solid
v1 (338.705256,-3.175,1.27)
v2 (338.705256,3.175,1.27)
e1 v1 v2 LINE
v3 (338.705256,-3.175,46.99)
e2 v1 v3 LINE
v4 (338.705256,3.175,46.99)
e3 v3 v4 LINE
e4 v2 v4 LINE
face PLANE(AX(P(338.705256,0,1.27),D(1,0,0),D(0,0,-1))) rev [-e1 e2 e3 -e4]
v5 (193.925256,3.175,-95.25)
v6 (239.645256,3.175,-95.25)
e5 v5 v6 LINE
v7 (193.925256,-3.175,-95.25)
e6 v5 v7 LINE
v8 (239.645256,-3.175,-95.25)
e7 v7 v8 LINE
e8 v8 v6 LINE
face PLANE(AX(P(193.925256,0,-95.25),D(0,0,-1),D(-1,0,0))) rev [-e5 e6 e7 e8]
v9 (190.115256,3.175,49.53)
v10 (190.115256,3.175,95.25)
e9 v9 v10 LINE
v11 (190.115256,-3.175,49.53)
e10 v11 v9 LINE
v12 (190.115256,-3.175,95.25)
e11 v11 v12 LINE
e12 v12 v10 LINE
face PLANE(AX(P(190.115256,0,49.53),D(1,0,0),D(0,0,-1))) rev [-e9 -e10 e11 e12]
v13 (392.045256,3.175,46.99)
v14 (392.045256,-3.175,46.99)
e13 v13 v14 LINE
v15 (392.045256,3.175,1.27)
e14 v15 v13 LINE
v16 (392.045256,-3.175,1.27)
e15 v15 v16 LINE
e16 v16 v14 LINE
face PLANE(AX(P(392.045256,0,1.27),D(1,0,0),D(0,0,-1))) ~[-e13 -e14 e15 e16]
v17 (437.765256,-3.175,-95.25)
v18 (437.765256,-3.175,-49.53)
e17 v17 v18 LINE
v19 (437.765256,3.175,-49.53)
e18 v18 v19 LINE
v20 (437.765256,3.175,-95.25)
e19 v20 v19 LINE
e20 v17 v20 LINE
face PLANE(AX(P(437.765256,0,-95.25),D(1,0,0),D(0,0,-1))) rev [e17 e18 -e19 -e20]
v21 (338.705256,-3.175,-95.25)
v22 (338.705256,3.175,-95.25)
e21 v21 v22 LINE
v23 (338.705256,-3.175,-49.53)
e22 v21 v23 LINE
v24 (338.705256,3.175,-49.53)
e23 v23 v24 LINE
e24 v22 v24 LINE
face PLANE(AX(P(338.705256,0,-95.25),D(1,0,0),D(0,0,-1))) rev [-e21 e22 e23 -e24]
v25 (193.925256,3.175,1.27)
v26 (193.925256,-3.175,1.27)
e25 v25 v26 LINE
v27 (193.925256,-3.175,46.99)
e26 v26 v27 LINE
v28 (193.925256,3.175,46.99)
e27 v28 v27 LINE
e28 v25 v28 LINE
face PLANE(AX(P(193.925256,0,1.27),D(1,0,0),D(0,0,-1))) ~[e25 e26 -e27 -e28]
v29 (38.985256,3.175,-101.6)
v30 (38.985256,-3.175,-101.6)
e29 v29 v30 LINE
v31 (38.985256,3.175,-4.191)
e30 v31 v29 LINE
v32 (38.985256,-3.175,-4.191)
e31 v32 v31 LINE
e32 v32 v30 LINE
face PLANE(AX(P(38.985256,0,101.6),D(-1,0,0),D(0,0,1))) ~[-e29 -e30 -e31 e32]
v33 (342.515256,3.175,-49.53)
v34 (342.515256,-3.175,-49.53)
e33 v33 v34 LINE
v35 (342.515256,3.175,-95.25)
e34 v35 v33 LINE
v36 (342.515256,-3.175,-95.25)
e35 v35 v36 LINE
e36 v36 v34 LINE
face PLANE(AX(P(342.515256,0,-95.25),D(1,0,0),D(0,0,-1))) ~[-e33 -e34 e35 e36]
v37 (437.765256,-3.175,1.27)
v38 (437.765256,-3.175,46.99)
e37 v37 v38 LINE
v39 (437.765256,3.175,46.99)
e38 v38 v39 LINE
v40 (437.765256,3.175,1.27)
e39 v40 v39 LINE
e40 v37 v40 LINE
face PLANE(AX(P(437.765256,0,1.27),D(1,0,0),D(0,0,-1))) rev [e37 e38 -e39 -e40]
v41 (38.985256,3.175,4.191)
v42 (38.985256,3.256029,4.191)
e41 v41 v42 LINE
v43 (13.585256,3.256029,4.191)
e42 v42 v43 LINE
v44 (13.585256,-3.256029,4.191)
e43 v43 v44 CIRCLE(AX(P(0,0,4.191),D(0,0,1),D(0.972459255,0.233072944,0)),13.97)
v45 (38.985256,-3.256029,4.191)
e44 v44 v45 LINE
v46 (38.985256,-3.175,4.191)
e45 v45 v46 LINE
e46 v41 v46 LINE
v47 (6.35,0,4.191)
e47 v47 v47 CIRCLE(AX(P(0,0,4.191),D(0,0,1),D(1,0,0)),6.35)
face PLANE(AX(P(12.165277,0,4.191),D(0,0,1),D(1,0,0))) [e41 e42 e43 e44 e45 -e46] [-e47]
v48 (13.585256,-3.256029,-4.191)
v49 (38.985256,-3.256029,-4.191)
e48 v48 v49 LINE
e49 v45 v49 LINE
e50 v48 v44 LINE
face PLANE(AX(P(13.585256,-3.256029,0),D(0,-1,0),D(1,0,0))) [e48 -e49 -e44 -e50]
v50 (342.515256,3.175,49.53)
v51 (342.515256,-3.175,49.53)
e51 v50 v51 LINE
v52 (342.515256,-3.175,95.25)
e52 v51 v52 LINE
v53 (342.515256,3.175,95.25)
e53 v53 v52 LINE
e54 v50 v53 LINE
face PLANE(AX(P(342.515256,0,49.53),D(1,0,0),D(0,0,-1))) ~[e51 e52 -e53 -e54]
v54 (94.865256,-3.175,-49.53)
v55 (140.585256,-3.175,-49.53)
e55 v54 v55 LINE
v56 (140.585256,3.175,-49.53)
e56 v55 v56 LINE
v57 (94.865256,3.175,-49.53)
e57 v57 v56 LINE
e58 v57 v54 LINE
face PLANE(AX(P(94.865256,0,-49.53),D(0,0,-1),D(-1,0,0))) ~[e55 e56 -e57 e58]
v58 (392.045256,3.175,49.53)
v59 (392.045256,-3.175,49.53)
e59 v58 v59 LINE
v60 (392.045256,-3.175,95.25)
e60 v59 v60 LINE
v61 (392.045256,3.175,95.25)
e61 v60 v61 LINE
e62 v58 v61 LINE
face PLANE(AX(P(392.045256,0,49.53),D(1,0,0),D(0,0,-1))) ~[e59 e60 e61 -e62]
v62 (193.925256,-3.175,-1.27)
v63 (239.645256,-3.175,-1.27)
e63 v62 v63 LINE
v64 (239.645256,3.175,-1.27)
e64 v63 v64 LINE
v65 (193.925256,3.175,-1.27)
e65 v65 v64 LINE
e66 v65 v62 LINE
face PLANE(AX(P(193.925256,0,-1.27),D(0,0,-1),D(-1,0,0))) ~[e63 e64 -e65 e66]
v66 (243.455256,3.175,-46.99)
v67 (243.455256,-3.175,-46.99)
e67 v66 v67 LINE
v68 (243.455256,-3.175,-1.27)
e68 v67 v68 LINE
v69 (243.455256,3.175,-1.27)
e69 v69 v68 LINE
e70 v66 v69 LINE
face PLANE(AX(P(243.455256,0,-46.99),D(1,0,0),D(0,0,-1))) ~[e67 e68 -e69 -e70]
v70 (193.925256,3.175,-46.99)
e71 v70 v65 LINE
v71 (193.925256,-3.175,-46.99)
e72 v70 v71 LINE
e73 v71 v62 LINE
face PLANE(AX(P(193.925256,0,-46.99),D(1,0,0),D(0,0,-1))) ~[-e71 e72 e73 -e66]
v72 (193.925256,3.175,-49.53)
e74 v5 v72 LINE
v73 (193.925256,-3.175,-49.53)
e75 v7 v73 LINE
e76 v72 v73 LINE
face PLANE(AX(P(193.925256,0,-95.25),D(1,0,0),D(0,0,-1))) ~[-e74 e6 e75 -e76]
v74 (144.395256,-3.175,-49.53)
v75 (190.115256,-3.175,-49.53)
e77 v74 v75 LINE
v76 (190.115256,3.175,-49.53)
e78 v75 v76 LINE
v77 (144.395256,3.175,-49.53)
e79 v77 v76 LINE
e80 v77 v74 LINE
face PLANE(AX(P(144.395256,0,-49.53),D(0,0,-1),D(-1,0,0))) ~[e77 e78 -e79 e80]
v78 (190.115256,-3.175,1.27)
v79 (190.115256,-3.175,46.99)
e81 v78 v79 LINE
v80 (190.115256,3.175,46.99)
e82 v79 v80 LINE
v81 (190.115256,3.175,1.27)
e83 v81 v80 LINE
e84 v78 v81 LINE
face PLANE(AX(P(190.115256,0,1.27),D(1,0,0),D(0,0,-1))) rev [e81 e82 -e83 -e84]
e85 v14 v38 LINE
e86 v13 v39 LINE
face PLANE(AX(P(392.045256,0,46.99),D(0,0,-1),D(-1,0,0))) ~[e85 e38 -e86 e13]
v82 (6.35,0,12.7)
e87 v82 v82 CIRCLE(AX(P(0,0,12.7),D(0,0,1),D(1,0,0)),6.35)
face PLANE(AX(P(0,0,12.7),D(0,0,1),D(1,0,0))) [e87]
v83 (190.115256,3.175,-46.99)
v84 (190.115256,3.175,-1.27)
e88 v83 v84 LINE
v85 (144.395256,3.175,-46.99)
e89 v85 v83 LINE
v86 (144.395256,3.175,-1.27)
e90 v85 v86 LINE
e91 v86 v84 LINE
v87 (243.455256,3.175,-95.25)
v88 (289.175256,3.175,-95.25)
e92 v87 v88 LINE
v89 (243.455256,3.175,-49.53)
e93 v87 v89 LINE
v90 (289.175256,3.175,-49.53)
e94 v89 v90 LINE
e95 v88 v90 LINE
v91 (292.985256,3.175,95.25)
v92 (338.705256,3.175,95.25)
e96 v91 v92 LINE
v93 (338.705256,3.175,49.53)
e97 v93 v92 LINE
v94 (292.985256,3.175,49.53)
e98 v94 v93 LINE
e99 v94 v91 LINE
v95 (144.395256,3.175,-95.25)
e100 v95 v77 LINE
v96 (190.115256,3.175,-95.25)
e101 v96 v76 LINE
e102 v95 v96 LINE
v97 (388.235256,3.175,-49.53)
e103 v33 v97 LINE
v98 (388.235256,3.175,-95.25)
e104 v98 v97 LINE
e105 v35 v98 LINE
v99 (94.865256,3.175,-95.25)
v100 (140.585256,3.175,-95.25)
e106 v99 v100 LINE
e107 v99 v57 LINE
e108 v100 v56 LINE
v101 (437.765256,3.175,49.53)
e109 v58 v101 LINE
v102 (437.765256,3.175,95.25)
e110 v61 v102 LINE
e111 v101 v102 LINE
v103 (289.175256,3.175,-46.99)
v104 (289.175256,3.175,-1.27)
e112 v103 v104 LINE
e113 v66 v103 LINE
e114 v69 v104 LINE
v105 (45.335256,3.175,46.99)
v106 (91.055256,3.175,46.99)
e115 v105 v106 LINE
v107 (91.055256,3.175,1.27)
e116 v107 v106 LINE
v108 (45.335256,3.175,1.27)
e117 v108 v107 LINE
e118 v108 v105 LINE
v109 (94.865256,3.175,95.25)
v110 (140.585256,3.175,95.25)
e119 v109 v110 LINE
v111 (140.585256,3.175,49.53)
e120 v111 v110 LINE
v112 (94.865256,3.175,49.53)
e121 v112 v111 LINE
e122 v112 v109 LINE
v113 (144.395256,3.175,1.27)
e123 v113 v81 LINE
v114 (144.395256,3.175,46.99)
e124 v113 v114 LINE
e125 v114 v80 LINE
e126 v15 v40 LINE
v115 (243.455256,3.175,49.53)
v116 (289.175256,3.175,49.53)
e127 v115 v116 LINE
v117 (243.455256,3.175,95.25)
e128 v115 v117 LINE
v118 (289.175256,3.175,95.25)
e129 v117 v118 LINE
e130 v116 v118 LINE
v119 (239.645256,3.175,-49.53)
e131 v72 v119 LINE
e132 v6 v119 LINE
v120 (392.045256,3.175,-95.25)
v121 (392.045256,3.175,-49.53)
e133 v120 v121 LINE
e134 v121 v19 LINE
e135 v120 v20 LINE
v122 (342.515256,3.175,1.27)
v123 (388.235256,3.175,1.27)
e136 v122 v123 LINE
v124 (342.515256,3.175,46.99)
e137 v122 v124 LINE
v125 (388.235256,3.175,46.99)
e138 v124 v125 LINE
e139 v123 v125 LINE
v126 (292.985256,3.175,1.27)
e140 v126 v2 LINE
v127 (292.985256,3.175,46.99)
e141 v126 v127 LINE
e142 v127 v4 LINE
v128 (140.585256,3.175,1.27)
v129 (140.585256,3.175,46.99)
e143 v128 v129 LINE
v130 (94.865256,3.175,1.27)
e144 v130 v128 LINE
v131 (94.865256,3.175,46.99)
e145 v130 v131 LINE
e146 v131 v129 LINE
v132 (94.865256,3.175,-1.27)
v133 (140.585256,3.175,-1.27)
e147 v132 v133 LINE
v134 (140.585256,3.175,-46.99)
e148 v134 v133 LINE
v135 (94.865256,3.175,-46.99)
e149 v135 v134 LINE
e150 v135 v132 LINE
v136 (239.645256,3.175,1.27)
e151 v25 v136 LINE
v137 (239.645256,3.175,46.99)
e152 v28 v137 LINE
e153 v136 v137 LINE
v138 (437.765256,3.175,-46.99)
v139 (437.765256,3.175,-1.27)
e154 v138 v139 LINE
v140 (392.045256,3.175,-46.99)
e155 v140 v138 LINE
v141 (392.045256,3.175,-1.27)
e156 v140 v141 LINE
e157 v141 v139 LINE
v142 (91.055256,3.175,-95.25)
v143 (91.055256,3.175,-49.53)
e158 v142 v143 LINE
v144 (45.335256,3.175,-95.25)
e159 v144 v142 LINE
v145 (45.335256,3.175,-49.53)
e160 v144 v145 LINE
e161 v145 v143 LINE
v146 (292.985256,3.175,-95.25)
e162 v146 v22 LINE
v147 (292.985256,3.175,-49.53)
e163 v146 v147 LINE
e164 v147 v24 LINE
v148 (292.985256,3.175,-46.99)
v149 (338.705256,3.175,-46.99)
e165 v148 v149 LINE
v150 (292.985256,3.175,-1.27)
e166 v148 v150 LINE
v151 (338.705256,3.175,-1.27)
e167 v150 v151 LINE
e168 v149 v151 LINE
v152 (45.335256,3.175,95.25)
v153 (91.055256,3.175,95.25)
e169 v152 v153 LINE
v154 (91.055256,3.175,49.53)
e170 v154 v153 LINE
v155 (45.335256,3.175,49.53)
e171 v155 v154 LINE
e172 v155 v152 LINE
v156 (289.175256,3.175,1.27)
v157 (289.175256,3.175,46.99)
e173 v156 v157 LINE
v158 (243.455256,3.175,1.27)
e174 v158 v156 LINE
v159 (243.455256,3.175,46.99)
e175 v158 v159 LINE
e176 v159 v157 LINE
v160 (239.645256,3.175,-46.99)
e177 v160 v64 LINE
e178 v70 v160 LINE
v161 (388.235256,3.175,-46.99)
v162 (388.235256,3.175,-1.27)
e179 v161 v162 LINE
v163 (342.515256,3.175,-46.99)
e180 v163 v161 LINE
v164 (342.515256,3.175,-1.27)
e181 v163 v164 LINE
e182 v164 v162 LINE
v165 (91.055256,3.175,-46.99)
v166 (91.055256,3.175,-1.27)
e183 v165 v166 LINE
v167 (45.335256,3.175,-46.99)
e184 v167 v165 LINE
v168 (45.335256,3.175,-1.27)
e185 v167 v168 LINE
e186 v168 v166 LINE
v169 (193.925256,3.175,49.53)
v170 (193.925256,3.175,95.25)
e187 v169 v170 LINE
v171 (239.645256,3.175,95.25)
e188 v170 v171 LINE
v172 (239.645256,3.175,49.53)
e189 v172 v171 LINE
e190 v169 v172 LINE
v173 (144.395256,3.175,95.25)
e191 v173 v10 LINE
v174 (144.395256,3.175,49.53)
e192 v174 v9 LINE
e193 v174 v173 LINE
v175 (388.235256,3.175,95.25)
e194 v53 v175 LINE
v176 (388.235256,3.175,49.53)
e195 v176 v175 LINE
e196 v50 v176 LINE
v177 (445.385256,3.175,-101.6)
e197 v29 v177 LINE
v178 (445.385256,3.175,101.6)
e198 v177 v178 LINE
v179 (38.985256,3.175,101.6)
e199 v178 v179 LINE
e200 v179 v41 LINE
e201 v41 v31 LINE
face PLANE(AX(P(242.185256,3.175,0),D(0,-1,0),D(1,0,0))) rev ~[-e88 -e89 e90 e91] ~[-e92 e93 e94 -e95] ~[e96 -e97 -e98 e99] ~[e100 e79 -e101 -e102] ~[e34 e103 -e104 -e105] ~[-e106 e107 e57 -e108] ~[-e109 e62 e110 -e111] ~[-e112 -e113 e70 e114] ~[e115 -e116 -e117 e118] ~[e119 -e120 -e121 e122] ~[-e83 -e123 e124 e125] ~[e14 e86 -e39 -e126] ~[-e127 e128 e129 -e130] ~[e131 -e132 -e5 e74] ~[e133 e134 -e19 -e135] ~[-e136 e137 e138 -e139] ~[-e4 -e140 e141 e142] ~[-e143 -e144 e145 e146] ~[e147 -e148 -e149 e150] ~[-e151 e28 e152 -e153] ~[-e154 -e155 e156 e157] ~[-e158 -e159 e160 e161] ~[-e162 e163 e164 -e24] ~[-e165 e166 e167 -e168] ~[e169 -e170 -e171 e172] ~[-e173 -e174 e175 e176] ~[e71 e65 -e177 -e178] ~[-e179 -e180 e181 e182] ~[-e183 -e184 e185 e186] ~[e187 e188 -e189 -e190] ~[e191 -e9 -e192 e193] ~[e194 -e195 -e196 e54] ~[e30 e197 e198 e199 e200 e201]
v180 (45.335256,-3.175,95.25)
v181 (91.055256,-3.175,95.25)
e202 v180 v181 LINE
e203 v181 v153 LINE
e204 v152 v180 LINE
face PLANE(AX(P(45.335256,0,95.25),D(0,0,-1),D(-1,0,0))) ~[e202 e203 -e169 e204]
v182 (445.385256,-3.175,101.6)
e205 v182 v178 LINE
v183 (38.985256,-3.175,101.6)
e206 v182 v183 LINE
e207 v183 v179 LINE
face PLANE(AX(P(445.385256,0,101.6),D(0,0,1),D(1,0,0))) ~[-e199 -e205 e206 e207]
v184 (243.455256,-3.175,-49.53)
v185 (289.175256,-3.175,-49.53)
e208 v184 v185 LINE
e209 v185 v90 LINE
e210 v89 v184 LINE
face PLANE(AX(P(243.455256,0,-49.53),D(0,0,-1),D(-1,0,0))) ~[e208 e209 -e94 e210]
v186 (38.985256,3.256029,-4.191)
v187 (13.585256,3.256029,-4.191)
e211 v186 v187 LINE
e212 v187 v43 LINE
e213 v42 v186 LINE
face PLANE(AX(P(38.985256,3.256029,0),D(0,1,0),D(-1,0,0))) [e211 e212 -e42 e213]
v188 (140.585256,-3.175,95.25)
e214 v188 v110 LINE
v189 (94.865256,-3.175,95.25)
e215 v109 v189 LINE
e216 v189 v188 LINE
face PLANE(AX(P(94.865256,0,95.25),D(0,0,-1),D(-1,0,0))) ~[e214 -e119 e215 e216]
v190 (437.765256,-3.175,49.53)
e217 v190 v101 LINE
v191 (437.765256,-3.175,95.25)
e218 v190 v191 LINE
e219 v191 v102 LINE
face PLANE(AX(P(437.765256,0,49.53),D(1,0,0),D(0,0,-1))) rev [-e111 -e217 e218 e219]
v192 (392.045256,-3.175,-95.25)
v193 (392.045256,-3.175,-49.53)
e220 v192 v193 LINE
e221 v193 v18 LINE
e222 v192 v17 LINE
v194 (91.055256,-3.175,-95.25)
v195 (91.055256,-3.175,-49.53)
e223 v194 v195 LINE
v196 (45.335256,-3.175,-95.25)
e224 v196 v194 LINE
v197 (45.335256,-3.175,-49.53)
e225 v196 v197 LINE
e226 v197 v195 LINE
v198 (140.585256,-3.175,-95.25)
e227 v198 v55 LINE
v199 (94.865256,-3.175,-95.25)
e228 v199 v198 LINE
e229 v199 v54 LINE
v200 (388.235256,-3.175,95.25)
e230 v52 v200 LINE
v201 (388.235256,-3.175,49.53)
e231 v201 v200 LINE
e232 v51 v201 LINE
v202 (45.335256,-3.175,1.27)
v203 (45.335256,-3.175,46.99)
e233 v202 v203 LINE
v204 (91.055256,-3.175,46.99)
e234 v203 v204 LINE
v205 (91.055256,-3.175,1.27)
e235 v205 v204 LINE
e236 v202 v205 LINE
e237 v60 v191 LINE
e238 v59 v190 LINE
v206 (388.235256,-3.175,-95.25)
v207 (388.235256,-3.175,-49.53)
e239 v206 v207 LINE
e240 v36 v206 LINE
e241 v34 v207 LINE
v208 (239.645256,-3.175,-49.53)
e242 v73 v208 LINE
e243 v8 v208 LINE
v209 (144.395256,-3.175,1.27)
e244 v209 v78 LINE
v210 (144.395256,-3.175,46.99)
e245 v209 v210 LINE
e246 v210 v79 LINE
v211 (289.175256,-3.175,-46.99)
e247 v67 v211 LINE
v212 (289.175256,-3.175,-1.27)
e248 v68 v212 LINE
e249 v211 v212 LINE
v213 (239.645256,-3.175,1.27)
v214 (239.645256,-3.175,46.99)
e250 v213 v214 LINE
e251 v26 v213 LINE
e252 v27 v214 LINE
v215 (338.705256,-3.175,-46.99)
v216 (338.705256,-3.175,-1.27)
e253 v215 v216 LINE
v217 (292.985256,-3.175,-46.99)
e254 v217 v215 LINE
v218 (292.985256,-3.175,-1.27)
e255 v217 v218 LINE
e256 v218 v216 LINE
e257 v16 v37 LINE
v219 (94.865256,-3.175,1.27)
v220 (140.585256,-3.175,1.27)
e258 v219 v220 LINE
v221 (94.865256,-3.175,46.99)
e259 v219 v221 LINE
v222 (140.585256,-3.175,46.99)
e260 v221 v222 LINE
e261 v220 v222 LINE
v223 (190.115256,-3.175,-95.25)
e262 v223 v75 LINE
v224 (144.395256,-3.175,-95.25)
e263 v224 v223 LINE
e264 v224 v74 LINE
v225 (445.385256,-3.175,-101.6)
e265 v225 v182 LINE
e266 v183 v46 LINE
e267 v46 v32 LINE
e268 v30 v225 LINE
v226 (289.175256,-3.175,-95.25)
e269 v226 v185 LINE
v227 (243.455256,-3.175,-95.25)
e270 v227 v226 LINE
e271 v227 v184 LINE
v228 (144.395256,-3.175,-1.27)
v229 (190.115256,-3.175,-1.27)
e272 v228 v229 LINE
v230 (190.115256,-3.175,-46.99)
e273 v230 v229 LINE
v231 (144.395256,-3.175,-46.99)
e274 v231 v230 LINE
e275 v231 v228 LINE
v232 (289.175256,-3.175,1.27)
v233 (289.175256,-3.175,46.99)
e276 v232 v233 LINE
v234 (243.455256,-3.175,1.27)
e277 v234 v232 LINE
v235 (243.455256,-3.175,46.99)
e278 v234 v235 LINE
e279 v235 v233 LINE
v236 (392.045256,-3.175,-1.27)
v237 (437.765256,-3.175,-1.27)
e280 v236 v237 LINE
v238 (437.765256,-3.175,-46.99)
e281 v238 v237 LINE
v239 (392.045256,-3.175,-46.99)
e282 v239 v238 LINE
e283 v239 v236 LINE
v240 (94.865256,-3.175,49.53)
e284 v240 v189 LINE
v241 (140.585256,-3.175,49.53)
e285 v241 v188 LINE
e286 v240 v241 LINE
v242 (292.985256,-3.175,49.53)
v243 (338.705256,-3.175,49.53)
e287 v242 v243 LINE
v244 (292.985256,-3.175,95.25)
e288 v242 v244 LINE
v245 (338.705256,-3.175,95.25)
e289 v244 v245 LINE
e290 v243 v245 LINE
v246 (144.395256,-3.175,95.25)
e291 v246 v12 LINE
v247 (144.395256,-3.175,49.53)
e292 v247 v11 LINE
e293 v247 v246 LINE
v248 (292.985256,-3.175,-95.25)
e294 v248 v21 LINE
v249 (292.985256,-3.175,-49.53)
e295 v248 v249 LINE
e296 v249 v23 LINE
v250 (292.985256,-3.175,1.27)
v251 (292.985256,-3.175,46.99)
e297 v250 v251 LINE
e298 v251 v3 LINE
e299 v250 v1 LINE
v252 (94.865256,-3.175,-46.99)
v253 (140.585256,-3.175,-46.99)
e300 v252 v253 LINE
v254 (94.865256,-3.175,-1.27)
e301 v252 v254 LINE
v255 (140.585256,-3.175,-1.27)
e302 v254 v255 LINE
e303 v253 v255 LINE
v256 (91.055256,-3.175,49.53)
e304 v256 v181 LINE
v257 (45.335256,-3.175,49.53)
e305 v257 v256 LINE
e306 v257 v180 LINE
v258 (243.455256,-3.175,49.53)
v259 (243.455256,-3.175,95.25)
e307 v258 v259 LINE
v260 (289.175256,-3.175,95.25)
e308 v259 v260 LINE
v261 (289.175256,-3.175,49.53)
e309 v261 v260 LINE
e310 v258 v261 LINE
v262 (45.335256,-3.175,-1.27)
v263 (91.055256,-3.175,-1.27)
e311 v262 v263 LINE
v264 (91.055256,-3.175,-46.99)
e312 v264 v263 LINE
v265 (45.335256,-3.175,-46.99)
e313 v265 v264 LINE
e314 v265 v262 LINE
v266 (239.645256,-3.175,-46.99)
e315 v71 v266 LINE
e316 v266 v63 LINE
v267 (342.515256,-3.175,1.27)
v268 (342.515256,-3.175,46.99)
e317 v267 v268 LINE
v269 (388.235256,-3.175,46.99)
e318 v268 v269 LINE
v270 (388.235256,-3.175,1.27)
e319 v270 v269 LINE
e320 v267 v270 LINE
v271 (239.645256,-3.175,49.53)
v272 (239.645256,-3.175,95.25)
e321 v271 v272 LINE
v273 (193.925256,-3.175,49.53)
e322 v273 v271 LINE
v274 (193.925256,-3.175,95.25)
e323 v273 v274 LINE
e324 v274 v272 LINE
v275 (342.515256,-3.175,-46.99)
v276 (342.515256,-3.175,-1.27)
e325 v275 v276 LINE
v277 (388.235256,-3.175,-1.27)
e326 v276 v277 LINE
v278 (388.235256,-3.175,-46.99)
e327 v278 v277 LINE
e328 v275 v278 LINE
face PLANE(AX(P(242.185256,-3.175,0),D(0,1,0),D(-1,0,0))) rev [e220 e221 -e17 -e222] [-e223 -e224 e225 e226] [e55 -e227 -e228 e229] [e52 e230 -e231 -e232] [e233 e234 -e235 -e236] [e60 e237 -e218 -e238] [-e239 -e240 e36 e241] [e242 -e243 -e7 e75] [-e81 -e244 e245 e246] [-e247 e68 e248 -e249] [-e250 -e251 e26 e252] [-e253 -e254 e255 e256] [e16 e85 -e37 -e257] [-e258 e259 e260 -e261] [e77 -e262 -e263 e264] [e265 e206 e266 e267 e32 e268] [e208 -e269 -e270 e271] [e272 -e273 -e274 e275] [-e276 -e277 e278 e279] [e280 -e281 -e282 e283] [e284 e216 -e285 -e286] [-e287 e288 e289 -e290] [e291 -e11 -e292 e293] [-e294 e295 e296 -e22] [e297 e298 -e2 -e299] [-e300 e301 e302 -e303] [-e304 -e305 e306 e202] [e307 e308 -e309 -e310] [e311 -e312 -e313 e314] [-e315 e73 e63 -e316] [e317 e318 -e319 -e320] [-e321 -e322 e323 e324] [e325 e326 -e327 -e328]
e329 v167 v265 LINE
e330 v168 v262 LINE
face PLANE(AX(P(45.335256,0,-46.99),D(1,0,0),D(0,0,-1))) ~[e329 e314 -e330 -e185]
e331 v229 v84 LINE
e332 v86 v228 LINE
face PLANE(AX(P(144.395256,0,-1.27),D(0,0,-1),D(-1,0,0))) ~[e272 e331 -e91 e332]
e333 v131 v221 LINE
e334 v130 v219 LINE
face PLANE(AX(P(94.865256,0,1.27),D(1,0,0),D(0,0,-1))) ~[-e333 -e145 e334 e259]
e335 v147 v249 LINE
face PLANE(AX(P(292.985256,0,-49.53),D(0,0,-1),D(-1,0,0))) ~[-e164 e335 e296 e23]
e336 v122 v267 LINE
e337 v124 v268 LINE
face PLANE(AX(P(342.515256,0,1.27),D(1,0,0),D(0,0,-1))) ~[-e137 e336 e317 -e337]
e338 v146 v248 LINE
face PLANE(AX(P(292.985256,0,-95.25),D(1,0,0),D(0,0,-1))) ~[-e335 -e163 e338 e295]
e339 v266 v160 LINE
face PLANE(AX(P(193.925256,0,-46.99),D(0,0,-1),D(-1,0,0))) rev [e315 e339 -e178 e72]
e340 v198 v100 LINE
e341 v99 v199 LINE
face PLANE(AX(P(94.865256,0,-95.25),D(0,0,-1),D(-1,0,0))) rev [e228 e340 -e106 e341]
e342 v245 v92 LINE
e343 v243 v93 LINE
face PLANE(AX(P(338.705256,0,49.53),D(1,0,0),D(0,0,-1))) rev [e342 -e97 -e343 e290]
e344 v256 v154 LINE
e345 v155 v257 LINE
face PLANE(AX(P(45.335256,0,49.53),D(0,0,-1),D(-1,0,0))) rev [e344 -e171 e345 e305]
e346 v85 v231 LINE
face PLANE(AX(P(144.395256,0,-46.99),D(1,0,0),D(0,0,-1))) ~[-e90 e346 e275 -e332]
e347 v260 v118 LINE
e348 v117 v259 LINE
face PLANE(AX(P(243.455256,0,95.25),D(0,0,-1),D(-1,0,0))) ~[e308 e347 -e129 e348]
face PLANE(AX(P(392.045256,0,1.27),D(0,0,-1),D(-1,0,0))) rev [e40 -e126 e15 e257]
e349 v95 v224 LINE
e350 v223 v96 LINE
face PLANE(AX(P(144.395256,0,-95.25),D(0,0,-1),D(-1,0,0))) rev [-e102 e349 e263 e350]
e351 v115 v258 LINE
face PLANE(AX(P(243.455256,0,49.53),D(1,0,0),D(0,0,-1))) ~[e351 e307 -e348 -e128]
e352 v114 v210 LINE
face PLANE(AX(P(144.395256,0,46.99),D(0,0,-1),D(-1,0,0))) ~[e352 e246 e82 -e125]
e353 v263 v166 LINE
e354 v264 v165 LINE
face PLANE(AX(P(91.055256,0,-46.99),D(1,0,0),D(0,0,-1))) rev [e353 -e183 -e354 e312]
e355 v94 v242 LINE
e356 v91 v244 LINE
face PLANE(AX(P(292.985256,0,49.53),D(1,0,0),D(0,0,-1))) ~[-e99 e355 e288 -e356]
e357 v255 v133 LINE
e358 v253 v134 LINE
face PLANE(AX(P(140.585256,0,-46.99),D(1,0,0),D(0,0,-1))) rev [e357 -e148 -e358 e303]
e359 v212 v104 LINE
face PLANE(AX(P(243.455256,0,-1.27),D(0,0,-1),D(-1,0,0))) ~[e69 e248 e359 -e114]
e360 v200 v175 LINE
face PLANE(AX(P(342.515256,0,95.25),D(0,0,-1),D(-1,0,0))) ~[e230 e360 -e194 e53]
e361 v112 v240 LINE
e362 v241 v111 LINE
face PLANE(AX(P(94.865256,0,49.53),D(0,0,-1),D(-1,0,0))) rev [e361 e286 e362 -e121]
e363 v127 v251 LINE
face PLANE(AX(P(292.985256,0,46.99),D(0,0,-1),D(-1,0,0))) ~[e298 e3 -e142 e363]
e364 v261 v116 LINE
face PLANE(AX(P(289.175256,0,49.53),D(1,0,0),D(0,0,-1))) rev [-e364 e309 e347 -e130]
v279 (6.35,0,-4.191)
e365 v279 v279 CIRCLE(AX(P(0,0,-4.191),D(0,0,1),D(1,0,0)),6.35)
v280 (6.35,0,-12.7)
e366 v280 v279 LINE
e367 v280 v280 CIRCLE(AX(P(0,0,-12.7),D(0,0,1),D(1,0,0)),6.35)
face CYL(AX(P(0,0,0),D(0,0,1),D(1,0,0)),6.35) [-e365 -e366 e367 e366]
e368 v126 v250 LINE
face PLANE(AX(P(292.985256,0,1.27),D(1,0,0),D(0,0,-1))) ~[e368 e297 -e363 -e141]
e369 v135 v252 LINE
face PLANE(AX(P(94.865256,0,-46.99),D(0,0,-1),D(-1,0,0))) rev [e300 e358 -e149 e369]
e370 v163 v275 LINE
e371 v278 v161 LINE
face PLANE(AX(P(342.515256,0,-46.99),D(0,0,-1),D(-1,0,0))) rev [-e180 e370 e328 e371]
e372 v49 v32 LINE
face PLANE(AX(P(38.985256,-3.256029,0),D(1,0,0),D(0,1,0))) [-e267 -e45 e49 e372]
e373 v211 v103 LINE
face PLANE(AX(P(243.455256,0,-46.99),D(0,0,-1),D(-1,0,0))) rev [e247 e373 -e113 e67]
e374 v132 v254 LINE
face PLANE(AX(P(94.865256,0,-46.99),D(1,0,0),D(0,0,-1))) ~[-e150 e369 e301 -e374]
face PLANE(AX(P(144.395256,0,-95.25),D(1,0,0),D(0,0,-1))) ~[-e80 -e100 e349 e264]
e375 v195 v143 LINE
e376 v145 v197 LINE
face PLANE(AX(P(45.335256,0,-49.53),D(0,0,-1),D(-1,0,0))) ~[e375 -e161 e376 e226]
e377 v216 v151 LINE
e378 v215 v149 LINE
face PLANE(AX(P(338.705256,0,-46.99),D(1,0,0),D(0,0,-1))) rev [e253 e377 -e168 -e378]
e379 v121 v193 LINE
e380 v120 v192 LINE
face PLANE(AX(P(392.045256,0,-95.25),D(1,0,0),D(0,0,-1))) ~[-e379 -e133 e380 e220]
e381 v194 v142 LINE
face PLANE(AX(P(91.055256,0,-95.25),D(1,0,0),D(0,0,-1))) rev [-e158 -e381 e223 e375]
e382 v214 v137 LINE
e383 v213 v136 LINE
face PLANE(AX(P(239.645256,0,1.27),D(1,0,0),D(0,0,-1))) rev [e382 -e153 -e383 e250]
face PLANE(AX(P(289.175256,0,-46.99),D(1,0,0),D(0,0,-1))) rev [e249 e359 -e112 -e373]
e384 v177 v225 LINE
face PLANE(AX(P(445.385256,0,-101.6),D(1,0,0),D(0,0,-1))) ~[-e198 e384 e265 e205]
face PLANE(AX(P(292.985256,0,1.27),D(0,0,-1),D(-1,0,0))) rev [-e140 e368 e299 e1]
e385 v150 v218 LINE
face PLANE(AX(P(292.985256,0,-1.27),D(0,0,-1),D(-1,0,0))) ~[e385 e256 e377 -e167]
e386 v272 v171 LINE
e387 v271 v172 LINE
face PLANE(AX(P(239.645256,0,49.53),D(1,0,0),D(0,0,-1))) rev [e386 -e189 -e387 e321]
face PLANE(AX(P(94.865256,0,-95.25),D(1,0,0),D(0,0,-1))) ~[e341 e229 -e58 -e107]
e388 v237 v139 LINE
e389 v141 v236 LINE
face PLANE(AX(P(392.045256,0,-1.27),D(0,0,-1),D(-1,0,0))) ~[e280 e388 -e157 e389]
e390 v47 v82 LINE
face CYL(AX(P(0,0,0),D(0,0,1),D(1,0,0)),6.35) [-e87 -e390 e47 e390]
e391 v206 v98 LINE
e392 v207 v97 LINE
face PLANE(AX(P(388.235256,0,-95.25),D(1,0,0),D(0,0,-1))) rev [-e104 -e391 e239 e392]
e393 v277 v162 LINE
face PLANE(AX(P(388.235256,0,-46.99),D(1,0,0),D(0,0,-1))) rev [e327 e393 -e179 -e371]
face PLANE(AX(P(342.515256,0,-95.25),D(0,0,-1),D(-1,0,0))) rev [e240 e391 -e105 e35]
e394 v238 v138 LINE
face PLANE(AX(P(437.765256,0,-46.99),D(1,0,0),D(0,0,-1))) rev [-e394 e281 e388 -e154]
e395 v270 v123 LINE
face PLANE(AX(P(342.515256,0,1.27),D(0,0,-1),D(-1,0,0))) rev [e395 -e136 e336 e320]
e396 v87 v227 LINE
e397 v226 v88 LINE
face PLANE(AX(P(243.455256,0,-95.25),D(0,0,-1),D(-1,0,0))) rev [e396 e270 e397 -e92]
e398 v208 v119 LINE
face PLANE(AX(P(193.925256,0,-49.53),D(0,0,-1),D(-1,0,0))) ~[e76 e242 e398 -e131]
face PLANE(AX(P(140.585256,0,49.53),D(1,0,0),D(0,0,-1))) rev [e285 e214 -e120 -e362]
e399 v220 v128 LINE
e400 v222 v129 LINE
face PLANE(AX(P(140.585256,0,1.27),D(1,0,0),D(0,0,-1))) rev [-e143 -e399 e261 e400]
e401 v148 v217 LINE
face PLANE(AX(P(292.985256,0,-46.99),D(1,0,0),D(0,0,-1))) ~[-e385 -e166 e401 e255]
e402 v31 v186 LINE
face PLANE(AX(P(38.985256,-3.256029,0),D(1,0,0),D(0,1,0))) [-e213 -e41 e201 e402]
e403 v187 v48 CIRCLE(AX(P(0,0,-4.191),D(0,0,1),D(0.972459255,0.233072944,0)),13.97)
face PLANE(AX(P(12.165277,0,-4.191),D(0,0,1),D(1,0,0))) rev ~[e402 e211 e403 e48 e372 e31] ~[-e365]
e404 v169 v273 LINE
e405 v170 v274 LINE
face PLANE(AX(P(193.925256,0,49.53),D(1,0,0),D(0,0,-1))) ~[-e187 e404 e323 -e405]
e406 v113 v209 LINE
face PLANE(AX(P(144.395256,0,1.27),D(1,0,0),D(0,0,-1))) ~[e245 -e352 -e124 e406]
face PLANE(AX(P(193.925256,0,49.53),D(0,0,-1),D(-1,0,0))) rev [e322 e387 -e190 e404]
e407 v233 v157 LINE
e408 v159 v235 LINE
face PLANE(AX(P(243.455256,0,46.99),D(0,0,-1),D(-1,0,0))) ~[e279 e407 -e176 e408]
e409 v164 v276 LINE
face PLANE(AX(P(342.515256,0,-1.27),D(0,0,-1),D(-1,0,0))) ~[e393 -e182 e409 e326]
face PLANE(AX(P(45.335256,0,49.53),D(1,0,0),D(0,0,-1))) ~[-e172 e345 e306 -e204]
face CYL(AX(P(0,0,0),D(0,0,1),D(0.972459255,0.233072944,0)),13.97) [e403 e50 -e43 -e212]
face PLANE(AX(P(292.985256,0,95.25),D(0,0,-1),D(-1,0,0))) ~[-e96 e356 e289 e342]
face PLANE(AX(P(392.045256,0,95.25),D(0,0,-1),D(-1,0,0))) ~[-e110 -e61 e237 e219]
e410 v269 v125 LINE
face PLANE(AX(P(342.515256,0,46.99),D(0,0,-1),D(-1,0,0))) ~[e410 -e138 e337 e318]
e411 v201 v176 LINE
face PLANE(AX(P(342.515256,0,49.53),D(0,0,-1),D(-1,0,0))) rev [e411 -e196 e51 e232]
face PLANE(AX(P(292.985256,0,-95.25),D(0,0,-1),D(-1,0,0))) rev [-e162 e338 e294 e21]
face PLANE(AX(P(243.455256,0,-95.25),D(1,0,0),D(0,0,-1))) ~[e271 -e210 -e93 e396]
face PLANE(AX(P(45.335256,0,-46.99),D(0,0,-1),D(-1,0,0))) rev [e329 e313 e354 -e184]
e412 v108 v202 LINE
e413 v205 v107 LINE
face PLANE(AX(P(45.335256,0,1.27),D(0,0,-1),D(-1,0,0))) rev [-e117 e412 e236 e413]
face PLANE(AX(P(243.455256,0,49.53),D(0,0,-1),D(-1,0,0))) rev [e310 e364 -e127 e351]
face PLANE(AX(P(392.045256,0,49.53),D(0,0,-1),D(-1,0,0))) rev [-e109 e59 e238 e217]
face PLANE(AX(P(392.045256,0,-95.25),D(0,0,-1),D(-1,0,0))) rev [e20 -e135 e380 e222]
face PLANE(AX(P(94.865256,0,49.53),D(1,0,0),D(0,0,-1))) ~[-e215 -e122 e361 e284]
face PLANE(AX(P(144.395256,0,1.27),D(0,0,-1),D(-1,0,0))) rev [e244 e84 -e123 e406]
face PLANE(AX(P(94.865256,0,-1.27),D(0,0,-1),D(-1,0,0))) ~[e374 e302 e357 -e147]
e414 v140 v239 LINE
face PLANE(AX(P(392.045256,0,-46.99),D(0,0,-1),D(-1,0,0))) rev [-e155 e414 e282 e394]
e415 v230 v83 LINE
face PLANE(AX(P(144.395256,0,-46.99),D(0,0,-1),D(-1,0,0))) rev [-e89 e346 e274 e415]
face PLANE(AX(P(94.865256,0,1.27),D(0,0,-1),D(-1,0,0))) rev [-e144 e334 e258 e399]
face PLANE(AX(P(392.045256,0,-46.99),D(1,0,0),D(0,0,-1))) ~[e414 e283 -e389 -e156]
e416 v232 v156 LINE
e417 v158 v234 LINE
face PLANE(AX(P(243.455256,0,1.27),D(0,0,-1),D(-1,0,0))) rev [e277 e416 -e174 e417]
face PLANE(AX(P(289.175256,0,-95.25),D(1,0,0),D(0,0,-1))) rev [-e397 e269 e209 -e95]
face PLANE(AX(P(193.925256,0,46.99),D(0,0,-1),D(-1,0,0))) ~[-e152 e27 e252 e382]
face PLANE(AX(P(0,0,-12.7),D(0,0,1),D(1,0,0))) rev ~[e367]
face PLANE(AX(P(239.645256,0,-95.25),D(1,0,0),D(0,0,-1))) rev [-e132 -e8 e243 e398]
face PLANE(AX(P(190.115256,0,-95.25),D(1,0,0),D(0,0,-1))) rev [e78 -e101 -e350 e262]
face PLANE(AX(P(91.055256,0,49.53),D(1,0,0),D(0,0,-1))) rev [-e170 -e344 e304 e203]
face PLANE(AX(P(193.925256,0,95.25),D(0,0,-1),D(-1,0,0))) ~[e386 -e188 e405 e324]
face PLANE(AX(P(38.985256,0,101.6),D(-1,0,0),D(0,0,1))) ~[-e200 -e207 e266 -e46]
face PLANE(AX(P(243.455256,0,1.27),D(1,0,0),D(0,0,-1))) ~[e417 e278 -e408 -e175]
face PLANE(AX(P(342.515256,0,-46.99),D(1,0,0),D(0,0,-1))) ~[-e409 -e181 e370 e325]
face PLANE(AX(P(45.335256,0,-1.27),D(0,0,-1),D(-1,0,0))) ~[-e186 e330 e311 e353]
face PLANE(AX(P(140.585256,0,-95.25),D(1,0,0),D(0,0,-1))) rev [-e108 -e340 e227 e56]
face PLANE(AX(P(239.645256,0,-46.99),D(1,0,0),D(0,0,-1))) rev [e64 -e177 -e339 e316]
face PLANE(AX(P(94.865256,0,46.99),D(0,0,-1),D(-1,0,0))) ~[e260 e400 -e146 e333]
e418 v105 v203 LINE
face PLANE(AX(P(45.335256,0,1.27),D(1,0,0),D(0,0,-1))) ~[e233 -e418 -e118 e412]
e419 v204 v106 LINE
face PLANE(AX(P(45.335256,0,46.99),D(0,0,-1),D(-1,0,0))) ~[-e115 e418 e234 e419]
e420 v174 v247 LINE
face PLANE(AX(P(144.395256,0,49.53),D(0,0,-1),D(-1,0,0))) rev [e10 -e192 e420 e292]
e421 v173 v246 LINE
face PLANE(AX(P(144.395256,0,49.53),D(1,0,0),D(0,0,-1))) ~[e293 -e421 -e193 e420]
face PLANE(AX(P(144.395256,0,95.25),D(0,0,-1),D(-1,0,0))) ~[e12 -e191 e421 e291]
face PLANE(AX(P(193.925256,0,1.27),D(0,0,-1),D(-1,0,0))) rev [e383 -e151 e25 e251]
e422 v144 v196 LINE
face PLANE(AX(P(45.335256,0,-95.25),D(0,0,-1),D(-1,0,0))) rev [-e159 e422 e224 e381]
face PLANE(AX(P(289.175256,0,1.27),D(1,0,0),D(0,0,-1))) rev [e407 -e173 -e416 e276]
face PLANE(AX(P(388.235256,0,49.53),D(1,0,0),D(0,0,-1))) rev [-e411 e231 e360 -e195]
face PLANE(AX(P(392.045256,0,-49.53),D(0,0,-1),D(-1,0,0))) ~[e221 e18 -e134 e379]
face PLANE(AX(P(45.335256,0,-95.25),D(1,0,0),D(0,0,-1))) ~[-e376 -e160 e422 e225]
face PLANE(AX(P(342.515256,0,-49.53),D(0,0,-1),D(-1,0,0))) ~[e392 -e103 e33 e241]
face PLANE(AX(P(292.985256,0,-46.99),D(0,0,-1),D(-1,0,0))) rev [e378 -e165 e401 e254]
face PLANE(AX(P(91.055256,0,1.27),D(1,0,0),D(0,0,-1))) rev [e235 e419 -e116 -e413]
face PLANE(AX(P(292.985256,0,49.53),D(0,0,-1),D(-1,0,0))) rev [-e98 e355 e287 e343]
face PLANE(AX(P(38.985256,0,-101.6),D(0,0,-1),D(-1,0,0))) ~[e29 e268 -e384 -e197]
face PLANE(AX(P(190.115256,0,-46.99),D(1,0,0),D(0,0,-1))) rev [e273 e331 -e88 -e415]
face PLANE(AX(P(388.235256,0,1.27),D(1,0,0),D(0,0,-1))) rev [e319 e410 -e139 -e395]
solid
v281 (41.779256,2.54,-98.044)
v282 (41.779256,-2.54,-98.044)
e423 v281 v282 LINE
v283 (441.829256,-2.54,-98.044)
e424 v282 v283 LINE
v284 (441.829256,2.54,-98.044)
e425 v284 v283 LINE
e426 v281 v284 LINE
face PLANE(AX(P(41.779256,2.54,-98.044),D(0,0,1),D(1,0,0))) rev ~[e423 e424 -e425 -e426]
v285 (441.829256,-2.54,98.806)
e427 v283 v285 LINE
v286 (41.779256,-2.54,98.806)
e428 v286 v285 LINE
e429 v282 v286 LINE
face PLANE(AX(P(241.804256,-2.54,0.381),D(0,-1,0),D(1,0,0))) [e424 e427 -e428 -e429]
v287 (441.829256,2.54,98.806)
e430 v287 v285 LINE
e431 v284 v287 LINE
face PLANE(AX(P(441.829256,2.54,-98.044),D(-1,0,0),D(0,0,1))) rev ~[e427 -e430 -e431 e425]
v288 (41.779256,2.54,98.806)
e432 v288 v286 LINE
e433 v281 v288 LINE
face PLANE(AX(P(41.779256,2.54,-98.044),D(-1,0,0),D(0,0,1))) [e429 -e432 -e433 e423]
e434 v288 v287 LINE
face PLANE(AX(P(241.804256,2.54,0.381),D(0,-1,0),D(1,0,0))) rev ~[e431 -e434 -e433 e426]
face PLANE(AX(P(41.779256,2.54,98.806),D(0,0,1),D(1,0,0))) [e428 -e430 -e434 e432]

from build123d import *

# Parameters (mm, degrees)
F0_R      = 6.35
F1_DEPTH  = 12.7
F2_R      = 6.35
F3_DEPTH  = 4.191
F4_W      = 45.72
F4_H      = 45.72
F5_DEPTH  = 3.175
F7_W      = 400.05
F7_H      = 196.85
F8_DEPTH  = 190
F10_W     = 400.05
F10_H     = 196.85
F11_DEPTH = 5.08


with BuildPart() as f1:
    # F0 (on Top) → F1 (new body, symmetric)
    with BuildSketch(Plane.XY):
        Circle(F0_R)
    extrude(amount=F1_DEPTH, both=True)

    # F2 (on Top) → F3 (join, symmetric)
    with BuildSketch(Plane.XY):
        with BuildLine():
            Line((38.985255793, 3.2560290292), (13.585255793, 3.2560290292))
            ThreePointArc((13.585255793, 3.2560290292), (-13.97, 0), (13.585255793, -3.2560290292))
            Line((13.585255793, -3.2560290292), (38.985255793, -3.2560290292))
            Line((38.985255793, -3.2560290292), (38.985255793, 3.2560290292))
        make_face()
        Circle(F2_R, mode=Mode.SUBTRACT)
    extrude(amount=F3_DEPTH, both=True)

    # F4 (on Front) → F5 (join)
    with BuildSketch(Plane.XZ):
        Polygon((38.985255793, 101.6), (38.985255793, 4.191), (38.985255793, 0), (38.985255793, -4.191), (38.985255793, -101.6), (445.385255793, -101.6), (445.385255793, 101.6), align=None)
        with Locations((68.195255793, -72.39)):
            Rectangle(F4_W, F4_H, mode=Mode.SUBTRACT)
        with Locations((117.725255793, -72.39)):
            Rectangle(F4_W, F4_H, mode=Mode.SUBTRACT)
        with Locations((167.255255793, -72.39)):
            Rectangle(F4_W, F4_H, mode=Mode.SUBTRACT)
        with Locations((216.785255793, -72.39)):
            Rectangle(F4_W, F4_H, mode=Mode.SUBTRACT)
        with Locations((68.195255793, -24.13)):
            Rectangle(F4_W, F4_H, mode=Mode.SUBTRACT)
        with Locations((117.725255793, -24.13)):
            Rectangle(F4_W, F4_H, mode=Mode.SUBTRACT)
        with Locations((167.255255793, -24.13)):
            Rectangle(F4_W, F4_H, mode=Mode.SUBTRACT)
        with Locations((216.785255793, -24.13)):
            Rectangle(F4_W, F4_H, mode=Mode.SUBTRACT)
        with Locations((266.315255793, -72.39)):
            Rectangle(F4_W, F4_H, mode=Mode.SUBTRACT)
        with Locations((315.845255793, -72.39)):
            Rectangle(F4_W, F4_H, mode=Mode.SUBTRACT)
        with Locations((365.375255793, -72.39)):
            Rectangle(F4_W, F4_H, mode=Mode.SUBTRACT)
        with Locations((414.905255793, -72.39)):
            Rectangle(F4_W, F4_H, mode=Mode.SUBTRACT)
        with Locations((266.315255793, -24.13)):
            Rectangle(F4_W, F4_H, mode=Mode.SUBTRACT)
        with Locations((315.845255793, -24.13)):
            Rectangle(F4_W, F4_H, mode=Mode.SUBTRACT)
        with Locations((365.375255793, -24.13)):
            Rectangle(F4_W, F4_H, mode=Mode.SUBTRACT)
        with Locations((414.905255793, -24.13)):
            Rectangle(F4_W, F4_H, mode=Mode.SUBTRACT)
        with Locations((68.195255793, 24.13)):
            Rectangle(F4_W, F4_H, mode=Mode.SUBTRACT)
        with Locations((117.725255793, 24.13)):
            Rectangle(F4_W, F4_H, mode=Mode.SUBTRACT)
        with Locations((167.255255793, 24.13)):
            Rectangle(F4_W, F4_H, mode=Mode.SUBTRACT)
        with Locations((216.785255793, 24.13)):
            Rectangle(F4_W, F4_H, mode=Mode.SUBTRACT)
        with Locations((68.195255793, 72.39)):
            Rectangle(F4_W, F4_H, mode=Mode.SUBTRACT)
        with Locations((117.725255793, 72.39)):
            Rectangle(F4_W, F4_H, mode=Mode.SUBTRACT)
        with Locations((167.255255793, 72.39)):
            Rectangle(F4_W, F4_H, mode=Mode.SUBTRACT)
        with Locations((216.785255793, 72.39)):
            Rectangle(F4_W, F4_H, mode=Mode.SUBTRACT)
        with Locations((266.315255793, 24.13)):
            Rectangle(F4_W, F4_H, mode=Mode.SUBTRACT)
        with Locations((315.845255793, 24.13)):
            Rectangle(F4_W, F4_H, mode=Mode.SUBTRACT)
        with Locations((365.375255793, 24.13)):
            Rectangle(F4_W, F4_H, mode=Mode.SUBTRACT)
        with Locations((414.905255793, 24.13)):
            Rectangle(F4_W, F4_H, mode=Mode.SUBTRACT)
        with Locations((266.315255793, 72.39)):
            Rectangle(F4_W, F4_H, mode=Mode.SUBTRACT)
        with Locations((315.845255793, 72.39)):
            Rectangle(F4_W, F4_H, mode=Mode.SUBTRACT)
        with Locations((365.375255793, 72.39)):
            Rectangle(F4_W, F4_H, mode=Mode.SUBTRACT)
        with Locations((414.905255793, 72.39)):
            Rectangle(F4_W, F4_H, mode=Mode.SUBTRACT)
    extrude(amount=-F5_DEPTH)

    # F7 (on face) → F8 (cut)
    with BuildSketch(Plane.XZ):
        with Locations((241.804255793, 0.381)):
            Rectangle(F7_W, F7_H)
    extrude(amount=F8_DEPTH, mode=Mode.SUBTRACT)

    # F12: F1 across face


with BuildPart() as f11:
    # F10 (on offset) → F11 (new body)
    with BuildSketch(Plane.XZ.offset(-2.54)):
        with Locations((241.804255793, 0.381)):
            Rectangle(F10_W, F10_H)
    extrude(amount=F11_DEPTH)


with BuildPart() as f1_1:
    add(f1.part)
    add(f1.part.mirror(Plane.XZ))


solid = Compound([f11.part, f1_1.part])
